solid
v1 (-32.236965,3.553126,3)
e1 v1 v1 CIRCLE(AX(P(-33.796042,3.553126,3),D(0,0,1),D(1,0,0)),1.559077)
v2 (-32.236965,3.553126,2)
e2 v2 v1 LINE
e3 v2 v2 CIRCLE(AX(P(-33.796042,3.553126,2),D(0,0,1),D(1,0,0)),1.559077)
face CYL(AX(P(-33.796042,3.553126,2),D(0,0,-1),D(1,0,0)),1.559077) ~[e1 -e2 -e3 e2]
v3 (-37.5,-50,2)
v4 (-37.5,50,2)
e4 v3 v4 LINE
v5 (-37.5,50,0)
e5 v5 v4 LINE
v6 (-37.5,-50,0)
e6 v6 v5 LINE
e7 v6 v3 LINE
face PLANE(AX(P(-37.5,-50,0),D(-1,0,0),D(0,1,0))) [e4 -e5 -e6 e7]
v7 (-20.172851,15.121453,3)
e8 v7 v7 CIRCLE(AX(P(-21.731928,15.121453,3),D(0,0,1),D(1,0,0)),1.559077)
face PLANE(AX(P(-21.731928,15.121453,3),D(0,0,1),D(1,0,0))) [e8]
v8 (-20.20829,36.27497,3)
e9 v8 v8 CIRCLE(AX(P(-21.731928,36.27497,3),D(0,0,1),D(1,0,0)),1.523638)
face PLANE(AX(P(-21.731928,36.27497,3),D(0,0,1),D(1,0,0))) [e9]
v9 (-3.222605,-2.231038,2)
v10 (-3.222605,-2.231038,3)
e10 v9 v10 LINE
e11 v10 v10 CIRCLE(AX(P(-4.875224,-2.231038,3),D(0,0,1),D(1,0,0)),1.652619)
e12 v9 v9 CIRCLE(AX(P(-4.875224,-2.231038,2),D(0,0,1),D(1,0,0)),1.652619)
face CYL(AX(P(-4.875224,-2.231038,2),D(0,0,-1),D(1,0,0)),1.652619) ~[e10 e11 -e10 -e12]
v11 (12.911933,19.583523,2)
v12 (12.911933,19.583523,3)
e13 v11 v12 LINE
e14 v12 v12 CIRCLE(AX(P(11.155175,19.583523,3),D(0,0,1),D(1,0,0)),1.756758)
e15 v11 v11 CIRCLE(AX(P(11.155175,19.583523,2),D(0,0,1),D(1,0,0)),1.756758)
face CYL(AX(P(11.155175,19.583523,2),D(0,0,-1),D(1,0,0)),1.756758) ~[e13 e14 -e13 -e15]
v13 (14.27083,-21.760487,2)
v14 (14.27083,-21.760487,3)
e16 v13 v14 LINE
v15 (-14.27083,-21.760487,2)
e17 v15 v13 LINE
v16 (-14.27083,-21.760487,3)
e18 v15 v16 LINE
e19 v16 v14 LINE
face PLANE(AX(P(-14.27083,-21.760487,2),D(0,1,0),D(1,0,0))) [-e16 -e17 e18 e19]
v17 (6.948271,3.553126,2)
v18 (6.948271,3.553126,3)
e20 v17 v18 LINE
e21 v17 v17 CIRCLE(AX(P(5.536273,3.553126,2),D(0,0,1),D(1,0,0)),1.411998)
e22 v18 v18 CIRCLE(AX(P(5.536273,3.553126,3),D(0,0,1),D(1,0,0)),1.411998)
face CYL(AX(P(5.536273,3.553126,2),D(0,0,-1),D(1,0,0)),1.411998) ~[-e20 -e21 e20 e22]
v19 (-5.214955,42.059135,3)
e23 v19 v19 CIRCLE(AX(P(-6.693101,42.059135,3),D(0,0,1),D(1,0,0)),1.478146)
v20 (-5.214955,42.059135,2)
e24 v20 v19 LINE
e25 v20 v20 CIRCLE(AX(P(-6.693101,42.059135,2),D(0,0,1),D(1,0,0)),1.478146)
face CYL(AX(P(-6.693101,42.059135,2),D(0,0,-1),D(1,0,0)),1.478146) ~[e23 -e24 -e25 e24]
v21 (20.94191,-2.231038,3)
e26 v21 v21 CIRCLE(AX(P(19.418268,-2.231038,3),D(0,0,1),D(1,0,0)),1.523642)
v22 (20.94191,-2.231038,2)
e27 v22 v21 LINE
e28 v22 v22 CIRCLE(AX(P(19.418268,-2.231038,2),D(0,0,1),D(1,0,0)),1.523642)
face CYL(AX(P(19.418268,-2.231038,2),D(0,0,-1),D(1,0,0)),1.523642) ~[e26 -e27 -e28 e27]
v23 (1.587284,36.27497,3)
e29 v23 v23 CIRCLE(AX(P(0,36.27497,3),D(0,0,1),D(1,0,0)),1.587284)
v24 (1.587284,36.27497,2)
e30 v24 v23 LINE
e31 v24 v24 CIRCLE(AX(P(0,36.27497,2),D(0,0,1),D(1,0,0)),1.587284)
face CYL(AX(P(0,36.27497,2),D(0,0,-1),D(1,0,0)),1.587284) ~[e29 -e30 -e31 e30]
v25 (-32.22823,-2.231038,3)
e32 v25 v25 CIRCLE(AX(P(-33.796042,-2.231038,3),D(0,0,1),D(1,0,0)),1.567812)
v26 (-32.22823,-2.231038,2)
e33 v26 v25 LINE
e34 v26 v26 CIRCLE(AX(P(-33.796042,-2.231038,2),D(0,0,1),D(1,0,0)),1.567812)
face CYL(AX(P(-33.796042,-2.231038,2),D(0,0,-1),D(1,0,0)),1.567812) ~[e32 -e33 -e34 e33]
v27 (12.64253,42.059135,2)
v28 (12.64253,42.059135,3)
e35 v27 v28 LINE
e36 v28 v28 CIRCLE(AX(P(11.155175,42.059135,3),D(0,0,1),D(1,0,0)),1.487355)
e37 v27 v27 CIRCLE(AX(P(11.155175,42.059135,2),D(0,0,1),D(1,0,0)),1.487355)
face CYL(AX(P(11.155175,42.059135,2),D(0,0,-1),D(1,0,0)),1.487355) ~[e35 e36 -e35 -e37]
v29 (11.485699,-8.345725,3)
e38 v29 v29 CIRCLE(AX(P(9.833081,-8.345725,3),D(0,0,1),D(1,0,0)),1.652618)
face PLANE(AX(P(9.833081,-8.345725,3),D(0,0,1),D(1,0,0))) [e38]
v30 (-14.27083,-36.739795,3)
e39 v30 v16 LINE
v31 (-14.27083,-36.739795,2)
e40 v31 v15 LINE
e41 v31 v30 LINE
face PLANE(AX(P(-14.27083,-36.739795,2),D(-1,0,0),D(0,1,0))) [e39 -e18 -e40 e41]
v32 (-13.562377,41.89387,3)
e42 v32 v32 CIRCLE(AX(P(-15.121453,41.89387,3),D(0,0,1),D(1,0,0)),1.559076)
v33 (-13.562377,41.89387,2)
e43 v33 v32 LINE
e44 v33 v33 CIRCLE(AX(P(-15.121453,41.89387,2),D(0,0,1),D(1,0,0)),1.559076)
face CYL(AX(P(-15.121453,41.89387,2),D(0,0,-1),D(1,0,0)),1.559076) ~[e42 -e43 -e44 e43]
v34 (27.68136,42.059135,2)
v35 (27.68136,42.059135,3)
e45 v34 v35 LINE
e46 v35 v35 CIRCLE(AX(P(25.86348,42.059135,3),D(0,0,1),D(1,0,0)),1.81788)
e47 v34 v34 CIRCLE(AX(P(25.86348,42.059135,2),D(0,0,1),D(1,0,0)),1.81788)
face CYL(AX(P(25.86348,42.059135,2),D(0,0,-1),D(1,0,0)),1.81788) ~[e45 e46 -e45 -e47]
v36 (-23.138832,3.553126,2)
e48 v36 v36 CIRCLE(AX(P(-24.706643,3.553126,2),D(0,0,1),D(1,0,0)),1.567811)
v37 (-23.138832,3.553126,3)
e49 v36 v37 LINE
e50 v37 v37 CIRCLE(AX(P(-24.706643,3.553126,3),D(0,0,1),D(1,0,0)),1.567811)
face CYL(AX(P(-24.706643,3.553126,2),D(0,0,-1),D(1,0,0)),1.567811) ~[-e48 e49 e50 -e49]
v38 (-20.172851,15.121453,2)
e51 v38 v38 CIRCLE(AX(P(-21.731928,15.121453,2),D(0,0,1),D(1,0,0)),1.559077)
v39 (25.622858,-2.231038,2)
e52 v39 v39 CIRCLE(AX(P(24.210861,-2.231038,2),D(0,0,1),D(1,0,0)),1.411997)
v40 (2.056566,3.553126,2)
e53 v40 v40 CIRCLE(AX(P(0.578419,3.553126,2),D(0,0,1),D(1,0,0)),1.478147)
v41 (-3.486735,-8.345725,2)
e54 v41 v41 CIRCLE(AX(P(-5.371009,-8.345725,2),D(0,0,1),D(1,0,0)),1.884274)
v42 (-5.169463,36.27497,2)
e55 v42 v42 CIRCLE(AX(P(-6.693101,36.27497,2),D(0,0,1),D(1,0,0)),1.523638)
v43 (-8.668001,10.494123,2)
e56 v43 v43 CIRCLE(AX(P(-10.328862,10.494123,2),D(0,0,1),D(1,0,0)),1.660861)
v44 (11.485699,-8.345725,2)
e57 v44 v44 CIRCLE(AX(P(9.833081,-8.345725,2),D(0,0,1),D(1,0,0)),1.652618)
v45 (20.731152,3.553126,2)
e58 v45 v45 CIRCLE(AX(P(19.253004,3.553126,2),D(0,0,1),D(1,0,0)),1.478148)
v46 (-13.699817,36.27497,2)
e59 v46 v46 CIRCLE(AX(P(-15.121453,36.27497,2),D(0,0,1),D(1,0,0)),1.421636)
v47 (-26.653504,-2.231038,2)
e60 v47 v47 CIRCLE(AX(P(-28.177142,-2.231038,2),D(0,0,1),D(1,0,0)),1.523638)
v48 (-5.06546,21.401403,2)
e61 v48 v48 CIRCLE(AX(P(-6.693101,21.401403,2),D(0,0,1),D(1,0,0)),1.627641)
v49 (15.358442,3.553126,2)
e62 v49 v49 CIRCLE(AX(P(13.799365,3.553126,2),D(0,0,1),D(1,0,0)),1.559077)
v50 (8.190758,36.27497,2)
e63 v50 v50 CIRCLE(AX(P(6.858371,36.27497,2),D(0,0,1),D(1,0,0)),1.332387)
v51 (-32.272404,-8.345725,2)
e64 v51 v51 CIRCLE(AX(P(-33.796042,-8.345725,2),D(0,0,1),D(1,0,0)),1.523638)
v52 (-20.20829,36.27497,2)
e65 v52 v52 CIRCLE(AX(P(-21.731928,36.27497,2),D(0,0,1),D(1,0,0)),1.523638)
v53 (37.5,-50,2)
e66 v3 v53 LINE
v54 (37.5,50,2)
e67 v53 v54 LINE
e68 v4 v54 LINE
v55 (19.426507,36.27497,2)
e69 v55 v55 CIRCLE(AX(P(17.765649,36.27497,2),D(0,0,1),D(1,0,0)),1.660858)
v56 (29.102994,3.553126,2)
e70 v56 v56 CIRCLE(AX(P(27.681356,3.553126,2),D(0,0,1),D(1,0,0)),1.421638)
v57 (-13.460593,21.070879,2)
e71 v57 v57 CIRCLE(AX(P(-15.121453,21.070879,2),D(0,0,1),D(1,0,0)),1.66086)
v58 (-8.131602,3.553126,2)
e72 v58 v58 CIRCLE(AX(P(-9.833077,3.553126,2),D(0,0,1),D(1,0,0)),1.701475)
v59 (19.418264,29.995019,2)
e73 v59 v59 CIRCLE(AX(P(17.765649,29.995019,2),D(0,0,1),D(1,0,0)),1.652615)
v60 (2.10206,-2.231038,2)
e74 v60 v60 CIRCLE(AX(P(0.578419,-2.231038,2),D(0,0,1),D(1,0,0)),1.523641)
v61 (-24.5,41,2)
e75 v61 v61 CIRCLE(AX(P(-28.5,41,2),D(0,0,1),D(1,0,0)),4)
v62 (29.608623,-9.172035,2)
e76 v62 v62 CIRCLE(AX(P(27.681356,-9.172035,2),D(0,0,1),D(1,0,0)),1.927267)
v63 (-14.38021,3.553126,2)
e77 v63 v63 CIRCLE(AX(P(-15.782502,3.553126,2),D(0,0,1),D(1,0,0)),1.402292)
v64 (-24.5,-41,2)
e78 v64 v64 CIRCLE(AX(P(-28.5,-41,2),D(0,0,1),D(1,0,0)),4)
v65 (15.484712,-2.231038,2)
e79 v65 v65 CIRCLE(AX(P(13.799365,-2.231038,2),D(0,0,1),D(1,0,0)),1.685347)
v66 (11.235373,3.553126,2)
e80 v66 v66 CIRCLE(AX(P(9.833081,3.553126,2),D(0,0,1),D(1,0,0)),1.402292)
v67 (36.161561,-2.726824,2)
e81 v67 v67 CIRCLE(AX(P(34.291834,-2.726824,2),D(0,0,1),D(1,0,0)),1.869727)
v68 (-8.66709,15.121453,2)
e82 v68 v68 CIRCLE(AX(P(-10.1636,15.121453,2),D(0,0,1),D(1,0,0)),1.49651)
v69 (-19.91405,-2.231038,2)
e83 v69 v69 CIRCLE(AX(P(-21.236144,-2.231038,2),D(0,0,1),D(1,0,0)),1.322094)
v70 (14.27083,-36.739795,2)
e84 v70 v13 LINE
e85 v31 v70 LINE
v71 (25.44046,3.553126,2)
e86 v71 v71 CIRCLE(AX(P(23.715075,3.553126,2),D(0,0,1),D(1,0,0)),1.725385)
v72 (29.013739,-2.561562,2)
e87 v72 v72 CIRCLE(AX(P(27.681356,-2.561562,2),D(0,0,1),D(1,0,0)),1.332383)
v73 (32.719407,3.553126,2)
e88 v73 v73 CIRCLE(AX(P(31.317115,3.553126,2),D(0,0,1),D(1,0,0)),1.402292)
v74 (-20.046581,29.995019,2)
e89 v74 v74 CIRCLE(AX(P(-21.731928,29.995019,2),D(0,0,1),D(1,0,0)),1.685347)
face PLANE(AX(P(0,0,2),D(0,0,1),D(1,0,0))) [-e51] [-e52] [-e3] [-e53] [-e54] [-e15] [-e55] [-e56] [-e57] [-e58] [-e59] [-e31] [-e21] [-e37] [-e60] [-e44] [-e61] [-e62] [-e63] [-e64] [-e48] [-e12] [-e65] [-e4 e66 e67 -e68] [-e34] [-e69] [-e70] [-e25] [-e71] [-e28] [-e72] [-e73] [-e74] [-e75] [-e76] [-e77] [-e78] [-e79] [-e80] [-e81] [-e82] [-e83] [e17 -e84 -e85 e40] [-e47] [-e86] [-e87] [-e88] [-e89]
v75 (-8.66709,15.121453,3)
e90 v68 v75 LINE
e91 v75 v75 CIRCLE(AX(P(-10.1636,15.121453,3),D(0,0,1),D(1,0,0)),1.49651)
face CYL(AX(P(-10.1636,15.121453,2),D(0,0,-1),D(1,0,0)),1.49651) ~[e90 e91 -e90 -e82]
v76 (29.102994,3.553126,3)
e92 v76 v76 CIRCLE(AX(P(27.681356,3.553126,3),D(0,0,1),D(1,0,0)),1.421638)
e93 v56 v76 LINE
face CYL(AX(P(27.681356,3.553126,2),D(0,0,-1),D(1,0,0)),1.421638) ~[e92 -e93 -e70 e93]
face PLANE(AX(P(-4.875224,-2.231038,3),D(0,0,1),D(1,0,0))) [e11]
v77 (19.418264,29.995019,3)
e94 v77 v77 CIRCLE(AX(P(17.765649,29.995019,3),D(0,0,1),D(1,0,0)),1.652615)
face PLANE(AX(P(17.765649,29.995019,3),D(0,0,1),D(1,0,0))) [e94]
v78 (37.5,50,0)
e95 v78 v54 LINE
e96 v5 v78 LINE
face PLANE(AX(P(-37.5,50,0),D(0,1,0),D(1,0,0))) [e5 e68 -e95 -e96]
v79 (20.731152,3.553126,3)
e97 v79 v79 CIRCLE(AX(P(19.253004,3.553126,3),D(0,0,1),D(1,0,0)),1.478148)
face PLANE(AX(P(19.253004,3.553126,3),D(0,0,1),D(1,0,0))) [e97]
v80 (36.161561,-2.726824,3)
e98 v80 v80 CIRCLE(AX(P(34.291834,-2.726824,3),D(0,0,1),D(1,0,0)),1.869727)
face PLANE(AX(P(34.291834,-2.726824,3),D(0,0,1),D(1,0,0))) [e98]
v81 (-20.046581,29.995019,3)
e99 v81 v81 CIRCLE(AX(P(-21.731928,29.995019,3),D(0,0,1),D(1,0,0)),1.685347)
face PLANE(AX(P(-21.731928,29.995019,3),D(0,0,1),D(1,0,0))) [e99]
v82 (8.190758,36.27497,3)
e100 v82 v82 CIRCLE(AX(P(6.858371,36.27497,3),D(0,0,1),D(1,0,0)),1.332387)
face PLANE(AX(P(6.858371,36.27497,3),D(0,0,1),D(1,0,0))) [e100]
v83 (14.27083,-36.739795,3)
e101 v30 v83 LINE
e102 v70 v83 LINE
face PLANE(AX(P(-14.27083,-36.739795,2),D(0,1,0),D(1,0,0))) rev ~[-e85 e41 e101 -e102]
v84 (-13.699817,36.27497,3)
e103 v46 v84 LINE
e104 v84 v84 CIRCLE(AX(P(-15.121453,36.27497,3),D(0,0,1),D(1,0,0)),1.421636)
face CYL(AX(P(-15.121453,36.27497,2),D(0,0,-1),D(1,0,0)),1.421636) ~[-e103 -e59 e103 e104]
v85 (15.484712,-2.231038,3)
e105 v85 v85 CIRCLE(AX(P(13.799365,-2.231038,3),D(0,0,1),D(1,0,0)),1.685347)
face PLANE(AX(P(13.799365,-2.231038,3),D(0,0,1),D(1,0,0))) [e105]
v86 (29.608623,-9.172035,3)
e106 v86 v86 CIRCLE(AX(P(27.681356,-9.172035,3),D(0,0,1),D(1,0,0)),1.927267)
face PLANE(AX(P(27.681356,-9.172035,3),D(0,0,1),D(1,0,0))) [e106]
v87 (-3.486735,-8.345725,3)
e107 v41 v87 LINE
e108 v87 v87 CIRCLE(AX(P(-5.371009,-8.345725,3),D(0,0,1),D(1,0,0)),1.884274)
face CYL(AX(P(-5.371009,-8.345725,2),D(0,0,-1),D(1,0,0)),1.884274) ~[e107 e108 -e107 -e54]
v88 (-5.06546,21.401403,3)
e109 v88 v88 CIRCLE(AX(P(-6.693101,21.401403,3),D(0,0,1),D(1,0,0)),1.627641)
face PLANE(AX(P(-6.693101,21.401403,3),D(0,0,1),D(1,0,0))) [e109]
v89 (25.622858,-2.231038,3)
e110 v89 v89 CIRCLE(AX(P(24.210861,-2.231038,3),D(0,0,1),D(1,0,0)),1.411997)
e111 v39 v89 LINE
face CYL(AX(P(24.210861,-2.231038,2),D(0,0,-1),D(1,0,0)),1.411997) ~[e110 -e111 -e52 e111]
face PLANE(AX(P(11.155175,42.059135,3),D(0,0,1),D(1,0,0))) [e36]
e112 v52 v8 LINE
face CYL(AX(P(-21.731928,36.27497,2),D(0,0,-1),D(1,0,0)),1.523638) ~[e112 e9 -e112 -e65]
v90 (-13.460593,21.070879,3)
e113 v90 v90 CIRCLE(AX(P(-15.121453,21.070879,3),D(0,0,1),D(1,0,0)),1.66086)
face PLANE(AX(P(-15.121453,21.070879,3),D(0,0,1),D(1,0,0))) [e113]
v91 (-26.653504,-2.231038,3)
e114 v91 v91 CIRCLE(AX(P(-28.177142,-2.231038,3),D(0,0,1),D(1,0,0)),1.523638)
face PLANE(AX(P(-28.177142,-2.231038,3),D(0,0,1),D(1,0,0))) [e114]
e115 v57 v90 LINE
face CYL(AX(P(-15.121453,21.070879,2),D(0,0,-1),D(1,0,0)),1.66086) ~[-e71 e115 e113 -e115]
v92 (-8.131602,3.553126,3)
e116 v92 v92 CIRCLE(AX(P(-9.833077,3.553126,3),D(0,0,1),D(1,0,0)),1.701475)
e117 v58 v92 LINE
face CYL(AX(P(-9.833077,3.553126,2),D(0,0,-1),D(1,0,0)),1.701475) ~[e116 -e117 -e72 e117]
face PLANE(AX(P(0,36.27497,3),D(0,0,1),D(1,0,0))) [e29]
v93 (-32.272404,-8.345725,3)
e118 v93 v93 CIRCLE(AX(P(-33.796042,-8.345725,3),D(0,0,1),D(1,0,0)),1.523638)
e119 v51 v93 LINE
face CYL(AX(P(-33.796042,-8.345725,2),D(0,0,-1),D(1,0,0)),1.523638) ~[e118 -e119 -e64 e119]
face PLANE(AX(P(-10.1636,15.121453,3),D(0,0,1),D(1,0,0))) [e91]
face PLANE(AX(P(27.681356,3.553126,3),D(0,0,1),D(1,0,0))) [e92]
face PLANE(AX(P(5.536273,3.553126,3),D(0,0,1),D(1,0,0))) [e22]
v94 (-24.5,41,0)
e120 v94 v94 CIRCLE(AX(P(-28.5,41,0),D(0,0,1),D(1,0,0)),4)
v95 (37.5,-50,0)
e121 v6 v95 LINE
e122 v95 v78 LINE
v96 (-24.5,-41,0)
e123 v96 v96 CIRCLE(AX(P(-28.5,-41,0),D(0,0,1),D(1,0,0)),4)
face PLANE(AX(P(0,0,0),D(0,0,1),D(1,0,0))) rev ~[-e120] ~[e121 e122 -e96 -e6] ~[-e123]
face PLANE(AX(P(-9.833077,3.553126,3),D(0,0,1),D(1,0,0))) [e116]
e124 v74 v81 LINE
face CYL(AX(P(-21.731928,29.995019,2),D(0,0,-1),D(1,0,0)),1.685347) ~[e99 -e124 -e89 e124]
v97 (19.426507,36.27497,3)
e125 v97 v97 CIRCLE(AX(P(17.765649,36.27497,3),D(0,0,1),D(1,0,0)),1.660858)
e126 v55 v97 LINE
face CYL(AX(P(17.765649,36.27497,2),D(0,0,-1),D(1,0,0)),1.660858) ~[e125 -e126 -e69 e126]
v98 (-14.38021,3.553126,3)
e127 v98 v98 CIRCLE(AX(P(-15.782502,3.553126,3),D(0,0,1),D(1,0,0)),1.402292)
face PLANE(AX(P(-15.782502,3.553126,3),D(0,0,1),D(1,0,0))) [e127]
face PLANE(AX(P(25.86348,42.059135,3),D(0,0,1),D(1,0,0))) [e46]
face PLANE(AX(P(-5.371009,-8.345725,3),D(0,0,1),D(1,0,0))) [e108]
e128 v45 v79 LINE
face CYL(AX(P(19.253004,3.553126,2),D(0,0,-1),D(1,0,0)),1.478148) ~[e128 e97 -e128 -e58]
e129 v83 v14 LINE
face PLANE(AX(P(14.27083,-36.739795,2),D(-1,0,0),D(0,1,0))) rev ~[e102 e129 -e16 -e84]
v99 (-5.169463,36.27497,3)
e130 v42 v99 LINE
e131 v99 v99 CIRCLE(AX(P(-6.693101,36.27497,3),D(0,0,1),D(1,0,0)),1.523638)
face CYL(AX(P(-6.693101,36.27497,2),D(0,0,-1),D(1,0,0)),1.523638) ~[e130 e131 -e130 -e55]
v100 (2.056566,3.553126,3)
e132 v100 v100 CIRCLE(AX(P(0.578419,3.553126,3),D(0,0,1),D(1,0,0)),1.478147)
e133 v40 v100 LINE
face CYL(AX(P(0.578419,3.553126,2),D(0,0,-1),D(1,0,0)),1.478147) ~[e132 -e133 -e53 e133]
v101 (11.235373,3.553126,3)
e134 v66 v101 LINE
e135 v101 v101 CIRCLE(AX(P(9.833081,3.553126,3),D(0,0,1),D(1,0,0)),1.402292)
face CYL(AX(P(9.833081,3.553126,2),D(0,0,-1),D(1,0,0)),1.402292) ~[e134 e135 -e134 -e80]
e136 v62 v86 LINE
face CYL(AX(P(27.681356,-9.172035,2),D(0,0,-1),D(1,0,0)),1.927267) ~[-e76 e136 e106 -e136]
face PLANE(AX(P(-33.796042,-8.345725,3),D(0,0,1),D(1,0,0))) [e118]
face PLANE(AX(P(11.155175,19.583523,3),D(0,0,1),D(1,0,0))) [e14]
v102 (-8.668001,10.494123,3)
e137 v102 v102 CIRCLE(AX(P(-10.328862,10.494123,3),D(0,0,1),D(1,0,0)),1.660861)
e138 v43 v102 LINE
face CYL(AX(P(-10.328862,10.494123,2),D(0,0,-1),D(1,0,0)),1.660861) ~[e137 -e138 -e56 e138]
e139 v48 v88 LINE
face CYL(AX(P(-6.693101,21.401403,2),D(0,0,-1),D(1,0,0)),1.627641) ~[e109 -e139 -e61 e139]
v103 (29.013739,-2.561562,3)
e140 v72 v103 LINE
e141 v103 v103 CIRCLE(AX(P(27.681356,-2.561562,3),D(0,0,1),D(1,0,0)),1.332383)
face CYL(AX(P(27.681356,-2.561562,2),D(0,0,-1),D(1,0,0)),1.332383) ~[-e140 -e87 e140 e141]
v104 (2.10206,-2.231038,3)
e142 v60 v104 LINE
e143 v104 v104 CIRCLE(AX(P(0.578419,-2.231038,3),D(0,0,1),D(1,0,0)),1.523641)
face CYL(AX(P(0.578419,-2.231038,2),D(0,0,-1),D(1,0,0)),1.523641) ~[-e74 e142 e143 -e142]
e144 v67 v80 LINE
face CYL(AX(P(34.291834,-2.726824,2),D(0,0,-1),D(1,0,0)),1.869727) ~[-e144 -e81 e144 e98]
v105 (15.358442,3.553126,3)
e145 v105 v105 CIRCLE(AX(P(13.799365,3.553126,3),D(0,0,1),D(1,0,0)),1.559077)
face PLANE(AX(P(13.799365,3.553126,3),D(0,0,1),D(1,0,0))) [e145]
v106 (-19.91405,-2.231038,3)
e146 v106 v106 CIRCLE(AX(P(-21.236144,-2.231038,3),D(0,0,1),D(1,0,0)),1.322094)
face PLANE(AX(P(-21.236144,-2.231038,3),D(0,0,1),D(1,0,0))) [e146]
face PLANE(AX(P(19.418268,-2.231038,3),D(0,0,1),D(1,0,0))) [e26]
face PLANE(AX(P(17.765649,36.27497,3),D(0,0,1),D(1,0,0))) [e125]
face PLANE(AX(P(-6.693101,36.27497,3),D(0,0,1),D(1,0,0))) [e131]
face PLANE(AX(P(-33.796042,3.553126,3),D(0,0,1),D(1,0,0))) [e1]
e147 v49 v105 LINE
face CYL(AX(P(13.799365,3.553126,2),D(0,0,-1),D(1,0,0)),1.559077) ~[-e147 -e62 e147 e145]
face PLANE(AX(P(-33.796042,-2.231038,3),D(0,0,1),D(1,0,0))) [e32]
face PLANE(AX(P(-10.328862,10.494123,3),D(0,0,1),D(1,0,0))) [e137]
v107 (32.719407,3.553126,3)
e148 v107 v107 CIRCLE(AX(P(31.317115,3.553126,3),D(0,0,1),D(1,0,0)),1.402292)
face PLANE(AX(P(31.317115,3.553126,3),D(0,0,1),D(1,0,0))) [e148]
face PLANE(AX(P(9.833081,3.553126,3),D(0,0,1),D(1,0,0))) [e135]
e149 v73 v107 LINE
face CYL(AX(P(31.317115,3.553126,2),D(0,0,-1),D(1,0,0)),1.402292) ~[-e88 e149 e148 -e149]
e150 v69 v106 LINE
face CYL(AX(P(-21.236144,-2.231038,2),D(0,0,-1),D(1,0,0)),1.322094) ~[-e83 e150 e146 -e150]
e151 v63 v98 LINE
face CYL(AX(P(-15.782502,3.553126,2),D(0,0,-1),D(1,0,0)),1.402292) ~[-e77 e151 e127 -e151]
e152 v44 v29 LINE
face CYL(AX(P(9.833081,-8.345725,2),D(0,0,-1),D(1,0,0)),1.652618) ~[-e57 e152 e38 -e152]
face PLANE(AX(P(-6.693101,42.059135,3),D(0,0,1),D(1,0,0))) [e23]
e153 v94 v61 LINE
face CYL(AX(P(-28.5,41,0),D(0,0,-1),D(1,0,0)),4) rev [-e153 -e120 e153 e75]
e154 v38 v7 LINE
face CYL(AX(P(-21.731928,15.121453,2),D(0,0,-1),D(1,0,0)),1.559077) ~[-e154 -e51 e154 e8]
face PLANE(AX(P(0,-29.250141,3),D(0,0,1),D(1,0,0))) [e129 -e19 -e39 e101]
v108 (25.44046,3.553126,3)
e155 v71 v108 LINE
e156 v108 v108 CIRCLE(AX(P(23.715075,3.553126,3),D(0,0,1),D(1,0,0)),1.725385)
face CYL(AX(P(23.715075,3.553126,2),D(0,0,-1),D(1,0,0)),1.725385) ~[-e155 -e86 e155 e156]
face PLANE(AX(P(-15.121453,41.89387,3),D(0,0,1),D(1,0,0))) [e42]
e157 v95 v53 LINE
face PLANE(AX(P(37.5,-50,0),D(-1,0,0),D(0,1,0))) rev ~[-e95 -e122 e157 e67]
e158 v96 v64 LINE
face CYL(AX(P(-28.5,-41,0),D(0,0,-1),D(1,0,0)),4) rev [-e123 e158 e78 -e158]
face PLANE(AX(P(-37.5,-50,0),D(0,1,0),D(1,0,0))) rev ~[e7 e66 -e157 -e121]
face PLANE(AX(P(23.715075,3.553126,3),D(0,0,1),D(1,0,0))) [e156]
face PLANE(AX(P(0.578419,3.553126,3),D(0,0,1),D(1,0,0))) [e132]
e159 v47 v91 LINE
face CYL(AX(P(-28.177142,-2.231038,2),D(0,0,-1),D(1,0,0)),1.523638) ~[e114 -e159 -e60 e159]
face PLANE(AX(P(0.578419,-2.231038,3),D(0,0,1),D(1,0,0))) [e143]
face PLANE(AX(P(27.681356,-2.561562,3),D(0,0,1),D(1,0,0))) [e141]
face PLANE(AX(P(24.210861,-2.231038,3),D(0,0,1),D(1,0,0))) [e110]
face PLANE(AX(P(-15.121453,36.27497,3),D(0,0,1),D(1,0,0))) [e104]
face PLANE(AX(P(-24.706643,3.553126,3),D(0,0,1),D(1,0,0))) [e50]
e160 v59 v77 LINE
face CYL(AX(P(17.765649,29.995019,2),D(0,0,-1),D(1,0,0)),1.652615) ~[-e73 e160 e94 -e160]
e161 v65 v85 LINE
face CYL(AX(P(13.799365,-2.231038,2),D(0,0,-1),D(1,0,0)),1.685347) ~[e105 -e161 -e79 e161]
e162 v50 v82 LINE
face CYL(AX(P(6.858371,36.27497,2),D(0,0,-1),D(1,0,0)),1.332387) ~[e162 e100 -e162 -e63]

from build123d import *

# Parameters (mm, degrees)
F0_W     = 75
F0_H     = 100
F0_R     = 4
F1_DEPTH = 2
F2_R     = 1.523638
F2_R_2   = 1.567812
F2_R_3   = 1.559077
F2_R_4   = 1.322094
F2_R_5   = 1.567811
F2_R_6   = 1.402292
F2_R_7   = 1.701475
F2_R_8   = 1.652619
F2_R_9   = 1.523641
F2_R_10  = 1.884274
F2_R_11  = 1.652618
F2_R_12  = 1.685347
F2_R_13  = 1.411998
F2_R_14  = 1.478147
F2_R_15  = 1.478148
F2_R_16  = 1.523642
F2_R_17  = 1.725385
F2_R_18  = 1.411997
F2_R_19  = 1.332383
F2_R_20  = 1.927267
F2_R_21  = 1.869727
F2_R_22  = 1.421638
F2_R_23  = 1.756758
F2_R_24  = 1.627641
F2_R_25  = 1.49651
F2_R_26  = 1.660861
F2_R_27  = 1.66086
F2_R_28  = 1.421636
F2_R_29  = 1.559076
F2_R_30  = 1.478146
F2_R_31  = 1.587284
F2_R_32  = 1.332387
F2_R_33  = 1.487355
F2_R_34  = 1.660858
F2_R_35  = 1.652615
F2_R_36  = 1.81788
F3_DEPTH = 1
F4_W     = 28.54166
F4_H     = 14.979307
F5_DEPTH = 1


with BuildPart() as f1:
    # F0 (on Top) → F1 (new body)
    with BuildSketch(Plane.XY):
        Rectangle(F0_W, F0_H)
        with Locations((-28.5, -41)):
            Circle(F0_R, mode=Mode.SUBTRACT)
        with Locations((-28.5, 41)):
            Circle(F0_R, mode=Mode.SUBTRACT)
    extrude(amount=F1_DEPTH)

    # F2 (on face) → F3 (join)
    with BuildSketch(Plane.XY.offset(2)):
        with Locations((-33.796042, -8.345725)):
            Circle(F2_R)
        with Locations((-33.796042, -2.231038)):
            Circle(F2_R_2)
        with Locations((-33.796042, 3.553126)):
            Circle(F2_R_3)
        with Locations((-28.177142, -2.231038)):
            Circle(F2_R)
        with Locations((-21.236144, -2.231038)):
            Circle(F2_R_4)
        with Locations((-24.706643, 3.553126)):
            Circle(F2_R_5)
        with Locations((-15.782502, 3.553126)):
            Circle(F2_R_6)
        with Locations((-9.833077, 3.553126)):
            Circle(F2_R_7)
        with Locations((-4.875224, -2.231038)):
            Circle(F2_R_8)
        with Locations((0.578419, -2.231038)):
            Circle(F2_R_9)
        with Locations((-5.371009, -8.345725)):
            Circle(F2_R_10)
        with Locations((9.833081, -8.345725)):
            Circle(F2_R_11)
        with Locations((13.799365, -2.231038)):
            Circle(F2_R_12)
        with Locations((13.799365, 3.553126)):
            Circle(F2_R_3)
        with Locations((9.833081, 3.553126)):
            Circle(F2_R_6)
        with Locations((5.536273, 3.553126)):
            Circle(F2_R_13)
        with Locations((0.578419, 3.553126)):
            Circle(F2_R_14)
        with Locations((19.253004, 3.553126)):
            Circle(F2_R_15)
        with Locations((19.418268, -2.231038)):
            Circle(F2_R_16)
        with Locations((23.715075, 3.553126)):
            Circle(F2_R_17)
        with Locations((24.210861, -2.231038)):
            Circle(F2_R_18)
        with Locations((27.681356, -2.561562)):
            Circle(F2_R_19)
        with Locations((27.681356, -9.172035)):
            Circle(F2_R_20)
        with Locations((34.291834, -2.726824)):
            Circle(F2_R_21)
        with Locations((31.317115, 3.553126)):
            Circle(F2_R_6)
        with Locations((27.681356, 3.553126)):
            Circle(F2_R_22)
        with Locations((11.155175, 19.583523)):
            Circle(F2_R_23)
        with Locations((-6.693101, 21.401403)):
            Circle(F2_R_24)
        with Locations((-10.1636, 15.121453)):
            Circle(F2_R_25)
        with Locations((-10.328862, 10.494123)):
            Circle(F2_R_26)
        with Locations((-21.731928, 15.121453)):
            Circle(F2_R_3)
        with Locations((-15.121453, 21.070879)):
            Circle(F2_R_27)
        with Locations((-21.731928, 29.995019)):
            Circle(F2_R_12)
        with Locations((-21.731928, 36.27497)):
            Circle(F2_R)
        with Locations((-15.121453, 36.27497)):
            Circle(F2_R_28)
        with Locations((-15.121453, 41.89387)):
            Circle(F2_R_29)
        with Locations((-6.693101, 42.059135)):
            Circle(F2_R_30)
        with Locations((-6.693101, 36.27497)):
            Circle(F2_R)
        with Locations((0, 36.27497)):
            Circle(F2_R_31)
        with Locations((6.858371, 36.27497)):
            Circle(F2_R_32)
        with Locations((11.155175, 42.059135)):
            Circle(F2_R_33)
        with Locations((17.765649, 36.27497)):
            Circle(F2_R_34)
        with Locations((17.765649, 29.995019)):
            Circle(F2_R_35)
        with Locations((25.86348, 42.059135)):
            Circle(F2_R_36)
    extrude(amount=F3_DEPTH)

    # F4 (on face) → F5 (join)
    with BuildSketch(Plane.XY.offset(2)):
        with Locations((0, -29.250141)):
            Rectangle(F4_W, F4_H)
    extrude(amount=F5_DEPTH)


solid = f1.part
